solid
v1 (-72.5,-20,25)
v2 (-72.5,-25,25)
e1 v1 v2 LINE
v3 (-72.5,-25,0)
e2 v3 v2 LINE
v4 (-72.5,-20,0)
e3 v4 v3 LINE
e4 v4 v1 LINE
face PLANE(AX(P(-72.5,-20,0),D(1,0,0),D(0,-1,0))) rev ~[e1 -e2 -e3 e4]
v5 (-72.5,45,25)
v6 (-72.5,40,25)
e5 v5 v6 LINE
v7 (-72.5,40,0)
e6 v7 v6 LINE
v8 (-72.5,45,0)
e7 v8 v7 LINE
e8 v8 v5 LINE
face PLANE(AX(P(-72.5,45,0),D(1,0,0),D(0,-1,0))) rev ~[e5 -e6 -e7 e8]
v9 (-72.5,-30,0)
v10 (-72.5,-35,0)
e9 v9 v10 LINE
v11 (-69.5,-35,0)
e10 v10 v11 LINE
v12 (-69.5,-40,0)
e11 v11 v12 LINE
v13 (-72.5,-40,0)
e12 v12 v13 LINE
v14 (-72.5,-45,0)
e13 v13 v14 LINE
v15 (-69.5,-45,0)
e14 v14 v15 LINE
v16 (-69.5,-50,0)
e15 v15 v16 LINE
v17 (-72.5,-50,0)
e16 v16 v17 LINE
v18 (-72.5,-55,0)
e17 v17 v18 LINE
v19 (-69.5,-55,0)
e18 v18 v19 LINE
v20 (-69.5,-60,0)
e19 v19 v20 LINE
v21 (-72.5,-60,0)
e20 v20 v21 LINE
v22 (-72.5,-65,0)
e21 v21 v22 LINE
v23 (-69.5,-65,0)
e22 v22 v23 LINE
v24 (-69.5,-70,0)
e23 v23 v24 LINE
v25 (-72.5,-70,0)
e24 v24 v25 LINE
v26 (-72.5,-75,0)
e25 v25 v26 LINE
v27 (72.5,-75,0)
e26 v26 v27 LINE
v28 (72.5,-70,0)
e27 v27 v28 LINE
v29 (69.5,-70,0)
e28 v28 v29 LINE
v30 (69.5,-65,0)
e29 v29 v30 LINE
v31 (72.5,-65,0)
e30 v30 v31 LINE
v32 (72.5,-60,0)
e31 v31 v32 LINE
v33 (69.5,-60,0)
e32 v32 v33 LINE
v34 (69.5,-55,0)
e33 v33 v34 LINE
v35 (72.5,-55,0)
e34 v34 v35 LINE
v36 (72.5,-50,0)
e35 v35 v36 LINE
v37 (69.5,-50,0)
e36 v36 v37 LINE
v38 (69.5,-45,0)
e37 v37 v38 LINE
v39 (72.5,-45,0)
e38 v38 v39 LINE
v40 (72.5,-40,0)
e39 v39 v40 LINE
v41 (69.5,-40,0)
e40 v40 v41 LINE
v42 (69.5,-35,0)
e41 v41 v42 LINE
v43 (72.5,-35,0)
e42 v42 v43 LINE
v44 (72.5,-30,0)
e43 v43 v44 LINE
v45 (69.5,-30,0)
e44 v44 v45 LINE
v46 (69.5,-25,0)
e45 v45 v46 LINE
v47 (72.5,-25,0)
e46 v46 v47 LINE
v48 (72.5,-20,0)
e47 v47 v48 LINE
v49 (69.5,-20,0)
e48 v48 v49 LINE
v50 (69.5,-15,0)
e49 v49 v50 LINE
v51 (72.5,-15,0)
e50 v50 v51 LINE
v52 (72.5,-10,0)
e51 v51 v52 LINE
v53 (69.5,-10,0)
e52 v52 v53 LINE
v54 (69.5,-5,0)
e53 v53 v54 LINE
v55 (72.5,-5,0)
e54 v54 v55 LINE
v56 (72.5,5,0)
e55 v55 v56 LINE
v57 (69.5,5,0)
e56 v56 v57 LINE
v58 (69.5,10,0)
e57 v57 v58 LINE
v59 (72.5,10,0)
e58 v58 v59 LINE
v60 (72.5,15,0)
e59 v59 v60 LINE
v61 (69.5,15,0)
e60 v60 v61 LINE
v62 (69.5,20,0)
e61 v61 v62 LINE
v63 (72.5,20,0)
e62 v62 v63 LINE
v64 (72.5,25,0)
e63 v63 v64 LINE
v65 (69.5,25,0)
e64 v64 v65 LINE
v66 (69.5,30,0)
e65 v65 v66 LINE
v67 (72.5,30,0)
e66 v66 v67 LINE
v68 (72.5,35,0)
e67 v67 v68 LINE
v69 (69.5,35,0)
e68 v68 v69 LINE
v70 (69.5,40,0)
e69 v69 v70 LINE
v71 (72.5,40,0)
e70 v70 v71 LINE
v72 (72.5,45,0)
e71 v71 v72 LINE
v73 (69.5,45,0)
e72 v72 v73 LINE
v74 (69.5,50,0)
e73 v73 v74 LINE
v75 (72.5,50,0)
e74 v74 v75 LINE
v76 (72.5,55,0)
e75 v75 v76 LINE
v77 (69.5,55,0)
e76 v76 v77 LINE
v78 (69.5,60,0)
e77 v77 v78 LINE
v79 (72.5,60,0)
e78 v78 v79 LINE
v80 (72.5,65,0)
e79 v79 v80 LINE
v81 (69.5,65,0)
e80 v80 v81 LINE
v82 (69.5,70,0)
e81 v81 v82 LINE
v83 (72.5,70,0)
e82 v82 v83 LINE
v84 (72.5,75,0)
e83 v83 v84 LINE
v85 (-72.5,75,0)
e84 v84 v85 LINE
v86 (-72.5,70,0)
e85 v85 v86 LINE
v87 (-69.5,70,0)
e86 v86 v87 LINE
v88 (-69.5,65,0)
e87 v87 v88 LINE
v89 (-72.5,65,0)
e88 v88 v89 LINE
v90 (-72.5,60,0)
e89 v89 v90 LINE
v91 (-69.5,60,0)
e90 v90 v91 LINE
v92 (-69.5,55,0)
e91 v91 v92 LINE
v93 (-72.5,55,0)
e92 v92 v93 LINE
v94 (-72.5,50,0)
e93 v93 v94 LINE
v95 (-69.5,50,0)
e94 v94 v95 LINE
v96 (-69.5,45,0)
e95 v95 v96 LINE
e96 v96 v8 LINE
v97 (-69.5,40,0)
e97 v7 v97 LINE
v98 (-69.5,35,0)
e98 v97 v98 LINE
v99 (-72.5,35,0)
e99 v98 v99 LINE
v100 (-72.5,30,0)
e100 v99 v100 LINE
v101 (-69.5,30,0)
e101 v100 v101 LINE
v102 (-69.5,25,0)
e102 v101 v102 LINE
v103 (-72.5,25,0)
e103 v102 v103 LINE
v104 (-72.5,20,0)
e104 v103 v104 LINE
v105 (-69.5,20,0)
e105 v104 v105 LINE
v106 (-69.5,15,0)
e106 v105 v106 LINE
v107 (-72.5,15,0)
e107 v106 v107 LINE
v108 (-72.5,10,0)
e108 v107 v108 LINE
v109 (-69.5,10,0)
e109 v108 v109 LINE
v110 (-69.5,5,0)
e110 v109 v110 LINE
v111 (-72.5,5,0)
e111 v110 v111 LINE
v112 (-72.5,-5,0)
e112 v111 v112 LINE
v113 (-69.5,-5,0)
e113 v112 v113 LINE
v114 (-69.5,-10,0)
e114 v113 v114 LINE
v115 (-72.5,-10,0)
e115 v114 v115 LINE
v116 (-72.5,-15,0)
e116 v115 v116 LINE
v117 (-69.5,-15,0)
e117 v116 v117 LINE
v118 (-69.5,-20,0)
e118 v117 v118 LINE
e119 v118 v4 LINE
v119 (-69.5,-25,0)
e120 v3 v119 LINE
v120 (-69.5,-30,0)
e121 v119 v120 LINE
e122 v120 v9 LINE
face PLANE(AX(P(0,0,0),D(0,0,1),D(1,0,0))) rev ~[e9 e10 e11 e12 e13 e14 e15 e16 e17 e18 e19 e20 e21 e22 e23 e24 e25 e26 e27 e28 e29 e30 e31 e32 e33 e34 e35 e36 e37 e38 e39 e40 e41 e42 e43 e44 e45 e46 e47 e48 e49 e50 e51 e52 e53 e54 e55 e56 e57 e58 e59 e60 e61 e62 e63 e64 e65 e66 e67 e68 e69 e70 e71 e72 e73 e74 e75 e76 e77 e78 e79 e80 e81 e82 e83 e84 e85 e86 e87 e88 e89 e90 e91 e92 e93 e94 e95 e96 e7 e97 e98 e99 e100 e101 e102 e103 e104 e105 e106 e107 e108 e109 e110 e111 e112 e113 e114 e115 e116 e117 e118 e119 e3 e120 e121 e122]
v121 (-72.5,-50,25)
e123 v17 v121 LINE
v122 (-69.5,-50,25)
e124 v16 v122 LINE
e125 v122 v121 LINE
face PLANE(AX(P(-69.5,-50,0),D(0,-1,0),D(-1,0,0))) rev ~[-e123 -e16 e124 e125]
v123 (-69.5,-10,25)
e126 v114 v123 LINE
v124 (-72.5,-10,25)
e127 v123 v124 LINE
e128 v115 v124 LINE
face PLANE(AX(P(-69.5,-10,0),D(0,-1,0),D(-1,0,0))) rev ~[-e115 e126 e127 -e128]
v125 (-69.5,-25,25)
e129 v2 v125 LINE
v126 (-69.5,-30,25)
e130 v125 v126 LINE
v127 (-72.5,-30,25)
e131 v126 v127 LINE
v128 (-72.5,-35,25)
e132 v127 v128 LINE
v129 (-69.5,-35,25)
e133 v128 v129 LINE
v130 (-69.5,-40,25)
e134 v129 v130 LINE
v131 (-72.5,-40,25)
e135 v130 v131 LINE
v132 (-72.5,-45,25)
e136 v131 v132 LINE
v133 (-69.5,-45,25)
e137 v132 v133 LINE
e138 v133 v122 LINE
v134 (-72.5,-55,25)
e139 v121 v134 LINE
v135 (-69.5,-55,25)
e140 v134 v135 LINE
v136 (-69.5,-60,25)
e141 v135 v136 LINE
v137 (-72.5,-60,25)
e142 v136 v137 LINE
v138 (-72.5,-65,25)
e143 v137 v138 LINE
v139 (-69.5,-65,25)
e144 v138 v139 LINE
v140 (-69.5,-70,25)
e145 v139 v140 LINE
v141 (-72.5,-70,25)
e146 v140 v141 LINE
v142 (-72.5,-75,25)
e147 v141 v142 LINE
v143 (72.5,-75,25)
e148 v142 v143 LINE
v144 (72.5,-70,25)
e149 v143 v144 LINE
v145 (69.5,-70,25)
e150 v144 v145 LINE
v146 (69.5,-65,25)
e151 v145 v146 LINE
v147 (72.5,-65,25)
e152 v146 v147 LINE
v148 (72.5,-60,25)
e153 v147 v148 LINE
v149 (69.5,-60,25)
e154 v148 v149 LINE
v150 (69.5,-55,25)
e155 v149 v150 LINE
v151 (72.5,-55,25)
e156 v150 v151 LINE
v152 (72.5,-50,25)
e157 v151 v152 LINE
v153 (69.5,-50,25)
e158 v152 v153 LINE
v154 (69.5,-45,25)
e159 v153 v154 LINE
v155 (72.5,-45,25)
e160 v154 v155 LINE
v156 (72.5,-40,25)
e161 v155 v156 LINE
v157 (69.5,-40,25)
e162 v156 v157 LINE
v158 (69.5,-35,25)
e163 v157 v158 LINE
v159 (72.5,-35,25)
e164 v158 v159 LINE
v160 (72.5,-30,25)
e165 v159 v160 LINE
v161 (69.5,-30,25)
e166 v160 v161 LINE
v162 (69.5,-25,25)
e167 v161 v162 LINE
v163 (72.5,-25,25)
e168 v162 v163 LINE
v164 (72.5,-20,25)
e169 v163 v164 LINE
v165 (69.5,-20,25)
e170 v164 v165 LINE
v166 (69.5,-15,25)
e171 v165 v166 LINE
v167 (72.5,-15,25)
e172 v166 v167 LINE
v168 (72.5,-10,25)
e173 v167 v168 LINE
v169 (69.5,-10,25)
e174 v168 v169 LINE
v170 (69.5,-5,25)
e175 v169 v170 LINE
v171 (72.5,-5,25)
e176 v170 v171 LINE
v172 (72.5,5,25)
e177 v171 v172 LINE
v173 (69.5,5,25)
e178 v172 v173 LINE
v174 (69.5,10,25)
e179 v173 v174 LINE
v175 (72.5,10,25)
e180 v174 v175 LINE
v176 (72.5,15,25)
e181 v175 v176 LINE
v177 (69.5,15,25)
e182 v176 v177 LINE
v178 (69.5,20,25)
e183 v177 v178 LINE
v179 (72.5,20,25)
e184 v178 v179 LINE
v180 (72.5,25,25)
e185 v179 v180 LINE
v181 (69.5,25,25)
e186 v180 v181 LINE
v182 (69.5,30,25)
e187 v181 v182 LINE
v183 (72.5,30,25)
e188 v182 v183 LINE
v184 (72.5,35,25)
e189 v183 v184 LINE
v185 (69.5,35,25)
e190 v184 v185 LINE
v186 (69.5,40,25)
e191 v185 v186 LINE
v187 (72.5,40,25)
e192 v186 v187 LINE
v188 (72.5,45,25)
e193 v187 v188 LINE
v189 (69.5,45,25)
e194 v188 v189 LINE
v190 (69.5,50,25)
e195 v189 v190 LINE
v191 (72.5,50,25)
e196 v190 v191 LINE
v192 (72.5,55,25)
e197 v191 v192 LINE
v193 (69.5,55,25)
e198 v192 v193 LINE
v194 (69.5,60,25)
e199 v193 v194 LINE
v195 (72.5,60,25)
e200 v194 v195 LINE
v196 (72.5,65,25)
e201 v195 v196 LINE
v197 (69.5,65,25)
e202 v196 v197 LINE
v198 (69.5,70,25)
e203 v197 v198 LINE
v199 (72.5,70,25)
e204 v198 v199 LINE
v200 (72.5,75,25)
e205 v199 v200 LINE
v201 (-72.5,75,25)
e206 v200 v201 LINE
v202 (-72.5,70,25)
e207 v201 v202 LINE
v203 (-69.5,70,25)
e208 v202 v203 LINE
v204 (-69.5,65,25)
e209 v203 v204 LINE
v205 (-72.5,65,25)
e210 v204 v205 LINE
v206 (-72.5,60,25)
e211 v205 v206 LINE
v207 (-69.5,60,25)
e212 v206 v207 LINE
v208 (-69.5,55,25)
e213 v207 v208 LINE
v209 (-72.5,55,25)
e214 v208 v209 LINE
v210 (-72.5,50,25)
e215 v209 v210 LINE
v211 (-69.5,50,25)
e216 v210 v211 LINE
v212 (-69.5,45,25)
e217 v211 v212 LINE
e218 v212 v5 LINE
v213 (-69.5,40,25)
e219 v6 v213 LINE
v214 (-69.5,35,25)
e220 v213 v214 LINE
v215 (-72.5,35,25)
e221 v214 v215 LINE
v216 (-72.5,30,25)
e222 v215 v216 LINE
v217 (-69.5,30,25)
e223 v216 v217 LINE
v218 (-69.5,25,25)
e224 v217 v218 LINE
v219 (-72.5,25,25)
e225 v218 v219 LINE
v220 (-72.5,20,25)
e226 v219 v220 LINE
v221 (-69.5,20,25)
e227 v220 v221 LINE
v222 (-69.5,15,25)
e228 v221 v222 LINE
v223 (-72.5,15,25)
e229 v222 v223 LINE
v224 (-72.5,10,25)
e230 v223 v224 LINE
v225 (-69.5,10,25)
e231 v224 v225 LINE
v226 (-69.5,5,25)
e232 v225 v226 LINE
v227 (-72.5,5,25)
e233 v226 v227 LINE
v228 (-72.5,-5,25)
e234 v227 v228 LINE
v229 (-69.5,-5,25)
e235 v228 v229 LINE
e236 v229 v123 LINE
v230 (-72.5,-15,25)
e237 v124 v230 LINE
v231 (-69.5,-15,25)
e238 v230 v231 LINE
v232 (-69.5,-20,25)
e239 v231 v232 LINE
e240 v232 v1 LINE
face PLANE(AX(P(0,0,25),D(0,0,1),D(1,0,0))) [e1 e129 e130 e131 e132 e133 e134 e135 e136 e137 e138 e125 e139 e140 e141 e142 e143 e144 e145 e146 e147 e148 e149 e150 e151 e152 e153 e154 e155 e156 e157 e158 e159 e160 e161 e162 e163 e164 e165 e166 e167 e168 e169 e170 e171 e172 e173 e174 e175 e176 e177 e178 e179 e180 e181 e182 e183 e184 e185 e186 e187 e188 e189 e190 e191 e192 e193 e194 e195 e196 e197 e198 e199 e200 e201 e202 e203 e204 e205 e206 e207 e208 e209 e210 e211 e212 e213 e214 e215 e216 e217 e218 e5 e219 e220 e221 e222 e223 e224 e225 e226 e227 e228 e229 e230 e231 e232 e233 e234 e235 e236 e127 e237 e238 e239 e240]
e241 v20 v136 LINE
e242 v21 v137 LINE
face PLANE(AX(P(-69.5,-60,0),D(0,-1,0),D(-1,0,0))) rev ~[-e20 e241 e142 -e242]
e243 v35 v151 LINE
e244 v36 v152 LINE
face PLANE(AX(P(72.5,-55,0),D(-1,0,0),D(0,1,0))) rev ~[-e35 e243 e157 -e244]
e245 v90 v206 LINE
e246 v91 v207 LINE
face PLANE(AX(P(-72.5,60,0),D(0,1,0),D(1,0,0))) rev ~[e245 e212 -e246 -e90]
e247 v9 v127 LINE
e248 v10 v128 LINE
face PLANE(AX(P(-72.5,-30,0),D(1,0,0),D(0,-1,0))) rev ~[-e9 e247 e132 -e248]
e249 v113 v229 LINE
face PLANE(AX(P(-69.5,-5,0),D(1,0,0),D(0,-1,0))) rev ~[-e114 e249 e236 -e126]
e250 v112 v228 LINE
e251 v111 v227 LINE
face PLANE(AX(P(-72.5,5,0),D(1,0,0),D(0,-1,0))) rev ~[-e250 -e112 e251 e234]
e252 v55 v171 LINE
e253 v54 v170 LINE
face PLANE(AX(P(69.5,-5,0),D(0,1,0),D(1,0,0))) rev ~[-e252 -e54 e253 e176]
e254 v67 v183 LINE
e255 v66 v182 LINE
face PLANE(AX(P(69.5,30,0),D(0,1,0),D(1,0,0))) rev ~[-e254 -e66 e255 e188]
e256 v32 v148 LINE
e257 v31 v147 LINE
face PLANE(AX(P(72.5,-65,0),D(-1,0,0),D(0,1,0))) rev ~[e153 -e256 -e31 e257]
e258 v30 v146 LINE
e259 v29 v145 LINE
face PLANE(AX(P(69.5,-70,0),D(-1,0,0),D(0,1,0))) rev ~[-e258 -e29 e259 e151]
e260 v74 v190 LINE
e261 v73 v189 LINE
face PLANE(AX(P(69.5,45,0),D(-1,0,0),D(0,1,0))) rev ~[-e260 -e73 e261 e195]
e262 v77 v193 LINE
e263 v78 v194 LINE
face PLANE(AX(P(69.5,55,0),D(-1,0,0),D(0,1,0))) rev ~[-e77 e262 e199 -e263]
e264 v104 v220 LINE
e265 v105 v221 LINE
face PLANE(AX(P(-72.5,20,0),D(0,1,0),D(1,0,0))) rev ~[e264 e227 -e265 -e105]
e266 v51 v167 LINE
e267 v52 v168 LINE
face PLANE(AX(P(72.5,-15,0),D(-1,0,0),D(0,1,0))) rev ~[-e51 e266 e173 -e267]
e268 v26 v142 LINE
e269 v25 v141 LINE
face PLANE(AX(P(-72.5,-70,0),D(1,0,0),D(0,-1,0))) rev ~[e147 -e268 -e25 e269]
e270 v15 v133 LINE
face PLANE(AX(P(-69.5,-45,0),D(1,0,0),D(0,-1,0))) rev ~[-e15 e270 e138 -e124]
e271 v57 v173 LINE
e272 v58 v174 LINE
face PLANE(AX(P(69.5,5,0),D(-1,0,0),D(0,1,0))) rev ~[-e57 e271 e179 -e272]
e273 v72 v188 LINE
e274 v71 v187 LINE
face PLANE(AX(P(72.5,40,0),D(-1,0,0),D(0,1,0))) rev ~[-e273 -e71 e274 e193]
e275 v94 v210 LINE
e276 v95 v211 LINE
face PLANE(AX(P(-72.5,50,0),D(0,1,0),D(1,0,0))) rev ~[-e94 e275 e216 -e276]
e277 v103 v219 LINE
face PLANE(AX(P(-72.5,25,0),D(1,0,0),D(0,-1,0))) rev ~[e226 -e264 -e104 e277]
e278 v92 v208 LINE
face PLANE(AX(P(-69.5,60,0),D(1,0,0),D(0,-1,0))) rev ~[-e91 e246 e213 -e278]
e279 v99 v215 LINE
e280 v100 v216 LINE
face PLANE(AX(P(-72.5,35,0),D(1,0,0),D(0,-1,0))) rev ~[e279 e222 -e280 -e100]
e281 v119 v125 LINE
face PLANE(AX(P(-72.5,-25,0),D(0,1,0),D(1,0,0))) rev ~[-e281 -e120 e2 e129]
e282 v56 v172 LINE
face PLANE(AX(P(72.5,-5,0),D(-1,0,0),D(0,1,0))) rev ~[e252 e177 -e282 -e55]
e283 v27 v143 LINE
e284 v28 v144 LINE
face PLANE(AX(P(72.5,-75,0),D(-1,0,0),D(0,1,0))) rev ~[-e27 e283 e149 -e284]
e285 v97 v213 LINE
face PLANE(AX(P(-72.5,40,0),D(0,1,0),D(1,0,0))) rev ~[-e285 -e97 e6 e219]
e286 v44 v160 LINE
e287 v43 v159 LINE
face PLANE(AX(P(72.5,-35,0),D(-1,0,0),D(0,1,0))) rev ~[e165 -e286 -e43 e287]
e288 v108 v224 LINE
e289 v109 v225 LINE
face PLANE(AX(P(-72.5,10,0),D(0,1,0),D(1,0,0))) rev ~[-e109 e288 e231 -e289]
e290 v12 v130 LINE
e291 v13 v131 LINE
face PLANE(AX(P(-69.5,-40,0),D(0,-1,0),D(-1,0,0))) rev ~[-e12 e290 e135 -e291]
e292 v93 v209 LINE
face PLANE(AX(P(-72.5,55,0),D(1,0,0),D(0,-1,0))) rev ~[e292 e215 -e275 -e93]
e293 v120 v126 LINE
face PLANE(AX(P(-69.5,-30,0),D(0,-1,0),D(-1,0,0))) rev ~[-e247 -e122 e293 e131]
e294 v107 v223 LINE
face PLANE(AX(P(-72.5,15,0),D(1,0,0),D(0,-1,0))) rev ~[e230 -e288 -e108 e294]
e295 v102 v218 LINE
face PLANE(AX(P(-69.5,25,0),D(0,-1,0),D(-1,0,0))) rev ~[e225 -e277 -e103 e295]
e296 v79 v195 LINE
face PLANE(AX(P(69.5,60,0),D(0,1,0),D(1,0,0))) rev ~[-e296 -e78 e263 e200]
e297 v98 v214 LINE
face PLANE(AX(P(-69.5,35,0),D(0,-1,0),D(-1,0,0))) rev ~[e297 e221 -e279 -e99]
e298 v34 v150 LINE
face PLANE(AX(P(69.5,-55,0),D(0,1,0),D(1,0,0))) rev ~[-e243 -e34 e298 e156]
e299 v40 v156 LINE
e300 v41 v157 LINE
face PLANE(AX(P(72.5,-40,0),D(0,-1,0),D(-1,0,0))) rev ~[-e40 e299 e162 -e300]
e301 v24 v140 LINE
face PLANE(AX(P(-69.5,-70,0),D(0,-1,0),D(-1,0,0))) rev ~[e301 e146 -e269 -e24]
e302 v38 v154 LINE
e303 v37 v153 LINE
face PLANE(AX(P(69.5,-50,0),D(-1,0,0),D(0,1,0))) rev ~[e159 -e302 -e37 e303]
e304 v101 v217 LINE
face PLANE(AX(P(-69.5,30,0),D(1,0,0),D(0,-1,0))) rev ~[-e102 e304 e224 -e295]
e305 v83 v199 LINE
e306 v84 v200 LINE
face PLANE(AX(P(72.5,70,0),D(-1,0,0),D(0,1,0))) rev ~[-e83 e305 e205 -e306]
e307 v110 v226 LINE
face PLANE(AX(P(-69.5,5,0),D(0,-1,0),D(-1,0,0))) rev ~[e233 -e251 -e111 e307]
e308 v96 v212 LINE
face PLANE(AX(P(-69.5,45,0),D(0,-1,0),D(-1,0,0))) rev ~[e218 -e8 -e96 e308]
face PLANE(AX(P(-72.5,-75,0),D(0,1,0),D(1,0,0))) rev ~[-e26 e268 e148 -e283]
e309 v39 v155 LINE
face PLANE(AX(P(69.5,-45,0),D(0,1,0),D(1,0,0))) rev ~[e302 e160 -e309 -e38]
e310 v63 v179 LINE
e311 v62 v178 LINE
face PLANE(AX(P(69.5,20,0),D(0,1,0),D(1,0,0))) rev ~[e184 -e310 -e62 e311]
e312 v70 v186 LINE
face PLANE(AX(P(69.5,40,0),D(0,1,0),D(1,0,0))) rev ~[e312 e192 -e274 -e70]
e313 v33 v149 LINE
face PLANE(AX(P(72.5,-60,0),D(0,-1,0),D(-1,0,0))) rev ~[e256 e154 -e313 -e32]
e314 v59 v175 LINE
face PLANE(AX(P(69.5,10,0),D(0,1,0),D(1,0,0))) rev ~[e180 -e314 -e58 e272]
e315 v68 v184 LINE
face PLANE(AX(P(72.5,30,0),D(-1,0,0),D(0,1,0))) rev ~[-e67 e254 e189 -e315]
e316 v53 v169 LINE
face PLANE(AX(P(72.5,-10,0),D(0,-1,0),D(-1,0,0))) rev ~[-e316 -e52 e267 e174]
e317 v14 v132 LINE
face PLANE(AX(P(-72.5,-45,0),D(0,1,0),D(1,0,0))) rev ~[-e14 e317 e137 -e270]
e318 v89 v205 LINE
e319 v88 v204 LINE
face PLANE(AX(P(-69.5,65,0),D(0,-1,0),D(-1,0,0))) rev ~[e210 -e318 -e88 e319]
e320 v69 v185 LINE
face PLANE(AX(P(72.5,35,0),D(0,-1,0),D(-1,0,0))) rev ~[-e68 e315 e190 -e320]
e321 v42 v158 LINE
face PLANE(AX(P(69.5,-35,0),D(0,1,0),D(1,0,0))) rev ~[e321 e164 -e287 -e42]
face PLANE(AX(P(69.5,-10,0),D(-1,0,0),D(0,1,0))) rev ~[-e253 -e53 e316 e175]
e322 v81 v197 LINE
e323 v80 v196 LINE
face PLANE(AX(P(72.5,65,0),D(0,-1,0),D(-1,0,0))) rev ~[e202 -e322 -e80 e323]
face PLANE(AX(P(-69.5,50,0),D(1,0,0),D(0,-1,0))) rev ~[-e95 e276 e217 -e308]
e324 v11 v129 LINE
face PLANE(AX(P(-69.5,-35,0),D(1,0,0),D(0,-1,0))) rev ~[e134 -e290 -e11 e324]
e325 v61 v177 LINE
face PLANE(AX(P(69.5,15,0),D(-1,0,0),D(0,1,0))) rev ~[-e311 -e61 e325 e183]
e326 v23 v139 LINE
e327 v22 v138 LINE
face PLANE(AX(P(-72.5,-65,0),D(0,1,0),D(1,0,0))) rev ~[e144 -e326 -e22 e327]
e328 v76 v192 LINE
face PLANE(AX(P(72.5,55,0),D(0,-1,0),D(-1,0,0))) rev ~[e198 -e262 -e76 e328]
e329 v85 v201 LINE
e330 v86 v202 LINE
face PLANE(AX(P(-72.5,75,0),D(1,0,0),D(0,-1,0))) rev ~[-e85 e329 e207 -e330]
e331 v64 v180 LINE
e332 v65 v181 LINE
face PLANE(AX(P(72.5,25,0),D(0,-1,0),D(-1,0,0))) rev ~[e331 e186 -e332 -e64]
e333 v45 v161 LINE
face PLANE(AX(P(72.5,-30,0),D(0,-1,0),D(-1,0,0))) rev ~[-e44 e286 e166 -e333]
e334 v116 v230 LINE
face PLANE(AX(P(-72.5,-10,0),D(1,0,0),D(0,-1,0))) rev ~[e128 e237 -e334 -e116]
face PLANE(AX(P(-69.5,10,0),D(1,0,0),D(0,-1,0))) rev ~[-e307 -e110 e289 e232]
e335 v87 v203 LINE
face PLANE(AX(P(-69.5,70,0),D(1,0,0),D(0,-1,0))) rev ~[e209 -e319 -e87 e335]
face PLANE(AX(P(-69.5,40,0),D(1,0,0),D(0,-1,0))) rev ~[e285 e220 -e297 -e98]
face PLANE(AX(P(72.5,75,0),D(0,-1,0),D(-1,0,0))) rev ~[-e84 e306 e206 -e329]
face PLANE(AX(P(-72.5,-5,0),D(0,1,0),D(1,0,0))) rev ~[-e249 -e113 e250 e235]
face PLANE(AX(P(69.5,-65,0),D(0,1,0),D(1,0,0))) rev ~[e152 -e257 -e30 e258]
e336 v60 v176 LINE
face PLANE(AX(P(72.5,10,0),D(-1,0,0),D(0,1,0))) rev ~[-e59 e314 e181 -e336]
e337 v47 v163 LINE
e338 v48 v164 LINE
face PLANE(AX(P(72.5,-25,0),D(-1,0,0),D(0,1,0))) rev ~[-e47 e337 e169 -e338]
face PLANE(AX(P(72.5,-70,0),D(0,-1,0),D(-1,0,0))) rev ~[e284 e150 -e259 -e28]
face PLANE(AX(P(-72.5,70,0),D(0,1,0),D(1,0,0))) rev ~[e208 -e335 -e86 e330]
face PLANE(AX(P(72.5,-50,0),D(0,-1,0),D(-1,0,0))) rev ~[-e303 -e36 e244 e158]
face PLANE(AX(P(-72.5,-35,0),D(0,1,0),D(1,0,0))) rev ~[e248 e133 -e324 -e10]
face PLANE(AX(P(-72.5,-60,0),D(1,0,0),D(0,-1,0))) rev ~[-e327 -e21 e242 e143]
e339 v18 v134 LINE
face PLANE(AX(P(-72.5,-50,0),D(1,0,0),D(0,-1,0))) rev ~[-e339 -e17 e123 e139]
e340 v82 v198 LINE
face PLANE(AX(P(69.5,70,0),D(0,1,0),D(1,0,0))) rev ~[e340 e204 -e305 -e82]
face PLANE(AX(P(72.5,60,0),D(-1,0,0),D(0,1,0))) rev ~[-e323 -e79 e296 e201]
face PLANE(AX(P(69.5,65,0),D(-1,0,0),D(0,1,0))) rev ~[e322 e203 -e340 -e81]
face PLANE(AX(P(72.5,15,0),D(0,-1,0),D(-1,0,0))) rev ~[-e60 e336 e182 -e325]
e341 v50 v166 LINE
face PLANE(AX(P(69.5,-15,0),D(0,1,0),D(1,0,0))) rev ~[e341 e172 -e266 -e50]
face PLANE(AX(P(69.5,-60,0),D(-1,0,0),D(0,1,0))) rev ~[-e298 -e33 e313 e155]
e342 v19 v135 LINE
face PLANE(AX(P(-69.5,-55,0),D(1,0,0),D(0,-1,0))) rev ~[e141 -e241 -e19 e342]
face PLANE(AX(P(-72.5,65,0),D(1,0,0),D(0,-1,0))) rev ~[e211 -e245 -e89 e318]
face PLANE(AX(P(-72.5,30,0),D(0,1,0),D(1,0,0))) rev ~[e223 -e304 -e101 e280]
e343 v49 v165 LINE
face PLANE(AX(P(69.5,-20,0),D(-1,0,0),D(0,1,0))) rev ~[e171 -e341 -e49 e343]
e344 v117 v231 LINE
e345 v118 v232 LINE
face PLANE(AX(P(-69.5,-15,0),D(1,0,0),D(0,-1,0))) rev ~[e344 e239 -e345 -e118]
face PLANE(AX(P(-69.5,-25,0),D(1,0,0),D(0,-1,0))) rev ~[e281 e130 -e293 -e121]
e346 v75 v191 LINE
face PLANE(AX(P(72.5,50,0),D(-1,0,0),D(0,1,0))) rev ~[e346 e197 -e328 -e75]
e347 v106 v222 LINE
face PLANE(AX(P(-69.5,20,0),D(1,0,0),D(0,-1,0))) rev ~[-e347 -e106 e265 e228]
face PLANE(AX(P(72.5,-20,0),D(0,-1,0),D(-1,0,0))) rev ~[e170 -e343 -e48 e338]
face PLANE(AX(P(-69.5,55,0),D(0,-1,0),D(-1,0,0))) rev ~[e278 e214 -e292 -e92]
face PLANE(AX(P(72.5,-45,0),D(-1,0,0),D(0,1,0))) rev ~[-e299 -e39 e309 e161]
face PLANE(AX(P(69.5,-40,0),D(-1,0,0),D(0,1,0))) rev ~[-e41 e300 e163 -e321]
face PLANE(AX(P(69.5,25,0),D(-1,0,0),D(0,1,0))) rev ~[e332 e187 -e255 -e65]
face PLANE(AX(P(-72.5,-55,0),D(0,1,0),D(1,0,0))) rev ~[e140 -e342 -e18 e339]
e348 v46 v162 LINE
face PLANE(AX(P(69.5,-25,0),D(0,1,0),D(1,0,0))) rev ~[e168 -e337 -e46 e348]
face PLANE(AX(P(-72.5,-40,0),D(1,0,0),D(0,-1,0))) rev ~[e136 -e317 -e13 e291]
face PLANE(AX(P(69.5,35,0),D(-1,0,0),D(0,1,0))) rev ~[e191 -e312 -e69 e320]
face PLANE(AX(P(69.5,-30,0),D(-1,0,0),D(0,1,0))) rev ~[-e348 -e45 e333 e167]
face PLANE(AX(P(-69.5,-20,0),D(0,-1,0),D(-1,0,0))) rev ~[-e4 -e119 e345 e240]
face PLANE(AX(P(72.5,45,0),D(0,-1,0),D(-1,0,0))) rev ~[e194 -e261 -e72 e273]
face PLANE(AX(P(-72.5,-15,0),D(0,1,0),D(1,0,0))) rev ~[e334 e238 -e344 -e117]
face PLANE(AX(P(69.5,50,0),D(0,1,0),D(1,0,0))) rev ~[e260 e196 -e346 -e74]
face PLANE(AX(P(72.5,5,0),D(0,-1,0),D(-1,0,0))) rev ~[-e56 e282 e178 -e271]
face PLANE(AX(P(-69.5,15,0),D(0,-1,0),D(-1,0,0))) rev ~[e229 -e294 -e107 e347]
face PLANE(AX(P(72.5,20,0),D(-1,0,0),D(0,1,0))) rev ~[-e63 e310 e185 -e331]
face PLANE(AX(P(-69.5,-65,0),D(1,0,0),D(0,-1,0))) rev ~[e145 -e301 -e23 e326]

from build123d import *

# Parameters (mm, degrees)
F1_DEPTH = 25


with BuildPart() as f1:
    # F0 (on Top) → F1 (new body)
    with BuildSketch(Plane.XY):
        Polygon((72.5, 70), (72.5, 75), (-72.5, 75), (-72.5, 70), (-69.5, 70), (-69.5, 65), (-72.5, 65), (-72.5, 60), (-69.5, 60), (-69.5, 55), (-72.5, 55), (-72.5, 50), (-69.5, 50), (-69.5, 45), (-72.5, 45), (-72.5, 40), (-69.5, 40), (-69.5, 35), (-72.5, 35), (-72.5, 30), (-69.5, 30), (-69.5, 25), (-72.5, 25), (-72.5, 20), (-69.5, 20), (-69.5, 15), (-72.5, 15), (-72.5, 10), (-69.5, 10), (-69.5, 5), (-72.5, 5), (-72.5, 0), (-72.5, -5), (-69.5, -5), (-69.5, -10), (-72.5, -10), (-72.5, -15), (-69.5, -15), (-69.5, -20), (-72.5, -20), (-72.5, -25), (-69.5, -25), (-69.5, -30), (-72.5, -30), (-72.5, -35), (-69.5, -35), (-69.5, -40), (-72.5, -40), (-72.5, -45), (-69.5, -45), (-69.5, -50), (-72.5, -50), (-72.5, -55), (-69.5, -55), (-69.5, -60), (-72.5, -60), (-72.5, -65), (-69.5, -65), (-69.5, -70), (-72.5, -70), (-72.5, -75), (72.5, -75), (72.5, -70), (69.5, -70), (69.5, -65), (72.5, -65), (72.5, -60), (69.5, -60), (69.5, -55), (72.5, -55), (72.5, -50), (69.5, -50), (69.5, -45), (72.5, -45), (72.5, -40), (69.5, -40), (69.5, -35), (72.5, -35), (72.5, -30), (69.5, -30), (69.5, -25), (72.5, -25), (72.5, -20), (69.5, -20), (69.5, -15), (72.5, -15), (72.5, -10), (69.5, -10), (69.5, -5), (72.5, -5), (72.5, 0), (72.5, 5), (69.5, 5), (69.5, 10), (72.5, 10), (72.5, 15), (69.5, 15), (69.5, 20), (72.5, 20), (72.5, 25), (69.5, 25), (69.5, 30), (72.5, 30), (72.5, 35), (69.5, 35), (69.5, 40), (72.5, 40), (72.5, 45), (69.5, 45), (69.5, 50), (72.5, 50), (72.5, 55), (69.5, 55), (69.5, 60), (72.5, 60), (72.5, 65), (69.5, 65), (69.5, 70), align=None)
    extrude(amount=F1_DEPTH)


solid = f1.part
